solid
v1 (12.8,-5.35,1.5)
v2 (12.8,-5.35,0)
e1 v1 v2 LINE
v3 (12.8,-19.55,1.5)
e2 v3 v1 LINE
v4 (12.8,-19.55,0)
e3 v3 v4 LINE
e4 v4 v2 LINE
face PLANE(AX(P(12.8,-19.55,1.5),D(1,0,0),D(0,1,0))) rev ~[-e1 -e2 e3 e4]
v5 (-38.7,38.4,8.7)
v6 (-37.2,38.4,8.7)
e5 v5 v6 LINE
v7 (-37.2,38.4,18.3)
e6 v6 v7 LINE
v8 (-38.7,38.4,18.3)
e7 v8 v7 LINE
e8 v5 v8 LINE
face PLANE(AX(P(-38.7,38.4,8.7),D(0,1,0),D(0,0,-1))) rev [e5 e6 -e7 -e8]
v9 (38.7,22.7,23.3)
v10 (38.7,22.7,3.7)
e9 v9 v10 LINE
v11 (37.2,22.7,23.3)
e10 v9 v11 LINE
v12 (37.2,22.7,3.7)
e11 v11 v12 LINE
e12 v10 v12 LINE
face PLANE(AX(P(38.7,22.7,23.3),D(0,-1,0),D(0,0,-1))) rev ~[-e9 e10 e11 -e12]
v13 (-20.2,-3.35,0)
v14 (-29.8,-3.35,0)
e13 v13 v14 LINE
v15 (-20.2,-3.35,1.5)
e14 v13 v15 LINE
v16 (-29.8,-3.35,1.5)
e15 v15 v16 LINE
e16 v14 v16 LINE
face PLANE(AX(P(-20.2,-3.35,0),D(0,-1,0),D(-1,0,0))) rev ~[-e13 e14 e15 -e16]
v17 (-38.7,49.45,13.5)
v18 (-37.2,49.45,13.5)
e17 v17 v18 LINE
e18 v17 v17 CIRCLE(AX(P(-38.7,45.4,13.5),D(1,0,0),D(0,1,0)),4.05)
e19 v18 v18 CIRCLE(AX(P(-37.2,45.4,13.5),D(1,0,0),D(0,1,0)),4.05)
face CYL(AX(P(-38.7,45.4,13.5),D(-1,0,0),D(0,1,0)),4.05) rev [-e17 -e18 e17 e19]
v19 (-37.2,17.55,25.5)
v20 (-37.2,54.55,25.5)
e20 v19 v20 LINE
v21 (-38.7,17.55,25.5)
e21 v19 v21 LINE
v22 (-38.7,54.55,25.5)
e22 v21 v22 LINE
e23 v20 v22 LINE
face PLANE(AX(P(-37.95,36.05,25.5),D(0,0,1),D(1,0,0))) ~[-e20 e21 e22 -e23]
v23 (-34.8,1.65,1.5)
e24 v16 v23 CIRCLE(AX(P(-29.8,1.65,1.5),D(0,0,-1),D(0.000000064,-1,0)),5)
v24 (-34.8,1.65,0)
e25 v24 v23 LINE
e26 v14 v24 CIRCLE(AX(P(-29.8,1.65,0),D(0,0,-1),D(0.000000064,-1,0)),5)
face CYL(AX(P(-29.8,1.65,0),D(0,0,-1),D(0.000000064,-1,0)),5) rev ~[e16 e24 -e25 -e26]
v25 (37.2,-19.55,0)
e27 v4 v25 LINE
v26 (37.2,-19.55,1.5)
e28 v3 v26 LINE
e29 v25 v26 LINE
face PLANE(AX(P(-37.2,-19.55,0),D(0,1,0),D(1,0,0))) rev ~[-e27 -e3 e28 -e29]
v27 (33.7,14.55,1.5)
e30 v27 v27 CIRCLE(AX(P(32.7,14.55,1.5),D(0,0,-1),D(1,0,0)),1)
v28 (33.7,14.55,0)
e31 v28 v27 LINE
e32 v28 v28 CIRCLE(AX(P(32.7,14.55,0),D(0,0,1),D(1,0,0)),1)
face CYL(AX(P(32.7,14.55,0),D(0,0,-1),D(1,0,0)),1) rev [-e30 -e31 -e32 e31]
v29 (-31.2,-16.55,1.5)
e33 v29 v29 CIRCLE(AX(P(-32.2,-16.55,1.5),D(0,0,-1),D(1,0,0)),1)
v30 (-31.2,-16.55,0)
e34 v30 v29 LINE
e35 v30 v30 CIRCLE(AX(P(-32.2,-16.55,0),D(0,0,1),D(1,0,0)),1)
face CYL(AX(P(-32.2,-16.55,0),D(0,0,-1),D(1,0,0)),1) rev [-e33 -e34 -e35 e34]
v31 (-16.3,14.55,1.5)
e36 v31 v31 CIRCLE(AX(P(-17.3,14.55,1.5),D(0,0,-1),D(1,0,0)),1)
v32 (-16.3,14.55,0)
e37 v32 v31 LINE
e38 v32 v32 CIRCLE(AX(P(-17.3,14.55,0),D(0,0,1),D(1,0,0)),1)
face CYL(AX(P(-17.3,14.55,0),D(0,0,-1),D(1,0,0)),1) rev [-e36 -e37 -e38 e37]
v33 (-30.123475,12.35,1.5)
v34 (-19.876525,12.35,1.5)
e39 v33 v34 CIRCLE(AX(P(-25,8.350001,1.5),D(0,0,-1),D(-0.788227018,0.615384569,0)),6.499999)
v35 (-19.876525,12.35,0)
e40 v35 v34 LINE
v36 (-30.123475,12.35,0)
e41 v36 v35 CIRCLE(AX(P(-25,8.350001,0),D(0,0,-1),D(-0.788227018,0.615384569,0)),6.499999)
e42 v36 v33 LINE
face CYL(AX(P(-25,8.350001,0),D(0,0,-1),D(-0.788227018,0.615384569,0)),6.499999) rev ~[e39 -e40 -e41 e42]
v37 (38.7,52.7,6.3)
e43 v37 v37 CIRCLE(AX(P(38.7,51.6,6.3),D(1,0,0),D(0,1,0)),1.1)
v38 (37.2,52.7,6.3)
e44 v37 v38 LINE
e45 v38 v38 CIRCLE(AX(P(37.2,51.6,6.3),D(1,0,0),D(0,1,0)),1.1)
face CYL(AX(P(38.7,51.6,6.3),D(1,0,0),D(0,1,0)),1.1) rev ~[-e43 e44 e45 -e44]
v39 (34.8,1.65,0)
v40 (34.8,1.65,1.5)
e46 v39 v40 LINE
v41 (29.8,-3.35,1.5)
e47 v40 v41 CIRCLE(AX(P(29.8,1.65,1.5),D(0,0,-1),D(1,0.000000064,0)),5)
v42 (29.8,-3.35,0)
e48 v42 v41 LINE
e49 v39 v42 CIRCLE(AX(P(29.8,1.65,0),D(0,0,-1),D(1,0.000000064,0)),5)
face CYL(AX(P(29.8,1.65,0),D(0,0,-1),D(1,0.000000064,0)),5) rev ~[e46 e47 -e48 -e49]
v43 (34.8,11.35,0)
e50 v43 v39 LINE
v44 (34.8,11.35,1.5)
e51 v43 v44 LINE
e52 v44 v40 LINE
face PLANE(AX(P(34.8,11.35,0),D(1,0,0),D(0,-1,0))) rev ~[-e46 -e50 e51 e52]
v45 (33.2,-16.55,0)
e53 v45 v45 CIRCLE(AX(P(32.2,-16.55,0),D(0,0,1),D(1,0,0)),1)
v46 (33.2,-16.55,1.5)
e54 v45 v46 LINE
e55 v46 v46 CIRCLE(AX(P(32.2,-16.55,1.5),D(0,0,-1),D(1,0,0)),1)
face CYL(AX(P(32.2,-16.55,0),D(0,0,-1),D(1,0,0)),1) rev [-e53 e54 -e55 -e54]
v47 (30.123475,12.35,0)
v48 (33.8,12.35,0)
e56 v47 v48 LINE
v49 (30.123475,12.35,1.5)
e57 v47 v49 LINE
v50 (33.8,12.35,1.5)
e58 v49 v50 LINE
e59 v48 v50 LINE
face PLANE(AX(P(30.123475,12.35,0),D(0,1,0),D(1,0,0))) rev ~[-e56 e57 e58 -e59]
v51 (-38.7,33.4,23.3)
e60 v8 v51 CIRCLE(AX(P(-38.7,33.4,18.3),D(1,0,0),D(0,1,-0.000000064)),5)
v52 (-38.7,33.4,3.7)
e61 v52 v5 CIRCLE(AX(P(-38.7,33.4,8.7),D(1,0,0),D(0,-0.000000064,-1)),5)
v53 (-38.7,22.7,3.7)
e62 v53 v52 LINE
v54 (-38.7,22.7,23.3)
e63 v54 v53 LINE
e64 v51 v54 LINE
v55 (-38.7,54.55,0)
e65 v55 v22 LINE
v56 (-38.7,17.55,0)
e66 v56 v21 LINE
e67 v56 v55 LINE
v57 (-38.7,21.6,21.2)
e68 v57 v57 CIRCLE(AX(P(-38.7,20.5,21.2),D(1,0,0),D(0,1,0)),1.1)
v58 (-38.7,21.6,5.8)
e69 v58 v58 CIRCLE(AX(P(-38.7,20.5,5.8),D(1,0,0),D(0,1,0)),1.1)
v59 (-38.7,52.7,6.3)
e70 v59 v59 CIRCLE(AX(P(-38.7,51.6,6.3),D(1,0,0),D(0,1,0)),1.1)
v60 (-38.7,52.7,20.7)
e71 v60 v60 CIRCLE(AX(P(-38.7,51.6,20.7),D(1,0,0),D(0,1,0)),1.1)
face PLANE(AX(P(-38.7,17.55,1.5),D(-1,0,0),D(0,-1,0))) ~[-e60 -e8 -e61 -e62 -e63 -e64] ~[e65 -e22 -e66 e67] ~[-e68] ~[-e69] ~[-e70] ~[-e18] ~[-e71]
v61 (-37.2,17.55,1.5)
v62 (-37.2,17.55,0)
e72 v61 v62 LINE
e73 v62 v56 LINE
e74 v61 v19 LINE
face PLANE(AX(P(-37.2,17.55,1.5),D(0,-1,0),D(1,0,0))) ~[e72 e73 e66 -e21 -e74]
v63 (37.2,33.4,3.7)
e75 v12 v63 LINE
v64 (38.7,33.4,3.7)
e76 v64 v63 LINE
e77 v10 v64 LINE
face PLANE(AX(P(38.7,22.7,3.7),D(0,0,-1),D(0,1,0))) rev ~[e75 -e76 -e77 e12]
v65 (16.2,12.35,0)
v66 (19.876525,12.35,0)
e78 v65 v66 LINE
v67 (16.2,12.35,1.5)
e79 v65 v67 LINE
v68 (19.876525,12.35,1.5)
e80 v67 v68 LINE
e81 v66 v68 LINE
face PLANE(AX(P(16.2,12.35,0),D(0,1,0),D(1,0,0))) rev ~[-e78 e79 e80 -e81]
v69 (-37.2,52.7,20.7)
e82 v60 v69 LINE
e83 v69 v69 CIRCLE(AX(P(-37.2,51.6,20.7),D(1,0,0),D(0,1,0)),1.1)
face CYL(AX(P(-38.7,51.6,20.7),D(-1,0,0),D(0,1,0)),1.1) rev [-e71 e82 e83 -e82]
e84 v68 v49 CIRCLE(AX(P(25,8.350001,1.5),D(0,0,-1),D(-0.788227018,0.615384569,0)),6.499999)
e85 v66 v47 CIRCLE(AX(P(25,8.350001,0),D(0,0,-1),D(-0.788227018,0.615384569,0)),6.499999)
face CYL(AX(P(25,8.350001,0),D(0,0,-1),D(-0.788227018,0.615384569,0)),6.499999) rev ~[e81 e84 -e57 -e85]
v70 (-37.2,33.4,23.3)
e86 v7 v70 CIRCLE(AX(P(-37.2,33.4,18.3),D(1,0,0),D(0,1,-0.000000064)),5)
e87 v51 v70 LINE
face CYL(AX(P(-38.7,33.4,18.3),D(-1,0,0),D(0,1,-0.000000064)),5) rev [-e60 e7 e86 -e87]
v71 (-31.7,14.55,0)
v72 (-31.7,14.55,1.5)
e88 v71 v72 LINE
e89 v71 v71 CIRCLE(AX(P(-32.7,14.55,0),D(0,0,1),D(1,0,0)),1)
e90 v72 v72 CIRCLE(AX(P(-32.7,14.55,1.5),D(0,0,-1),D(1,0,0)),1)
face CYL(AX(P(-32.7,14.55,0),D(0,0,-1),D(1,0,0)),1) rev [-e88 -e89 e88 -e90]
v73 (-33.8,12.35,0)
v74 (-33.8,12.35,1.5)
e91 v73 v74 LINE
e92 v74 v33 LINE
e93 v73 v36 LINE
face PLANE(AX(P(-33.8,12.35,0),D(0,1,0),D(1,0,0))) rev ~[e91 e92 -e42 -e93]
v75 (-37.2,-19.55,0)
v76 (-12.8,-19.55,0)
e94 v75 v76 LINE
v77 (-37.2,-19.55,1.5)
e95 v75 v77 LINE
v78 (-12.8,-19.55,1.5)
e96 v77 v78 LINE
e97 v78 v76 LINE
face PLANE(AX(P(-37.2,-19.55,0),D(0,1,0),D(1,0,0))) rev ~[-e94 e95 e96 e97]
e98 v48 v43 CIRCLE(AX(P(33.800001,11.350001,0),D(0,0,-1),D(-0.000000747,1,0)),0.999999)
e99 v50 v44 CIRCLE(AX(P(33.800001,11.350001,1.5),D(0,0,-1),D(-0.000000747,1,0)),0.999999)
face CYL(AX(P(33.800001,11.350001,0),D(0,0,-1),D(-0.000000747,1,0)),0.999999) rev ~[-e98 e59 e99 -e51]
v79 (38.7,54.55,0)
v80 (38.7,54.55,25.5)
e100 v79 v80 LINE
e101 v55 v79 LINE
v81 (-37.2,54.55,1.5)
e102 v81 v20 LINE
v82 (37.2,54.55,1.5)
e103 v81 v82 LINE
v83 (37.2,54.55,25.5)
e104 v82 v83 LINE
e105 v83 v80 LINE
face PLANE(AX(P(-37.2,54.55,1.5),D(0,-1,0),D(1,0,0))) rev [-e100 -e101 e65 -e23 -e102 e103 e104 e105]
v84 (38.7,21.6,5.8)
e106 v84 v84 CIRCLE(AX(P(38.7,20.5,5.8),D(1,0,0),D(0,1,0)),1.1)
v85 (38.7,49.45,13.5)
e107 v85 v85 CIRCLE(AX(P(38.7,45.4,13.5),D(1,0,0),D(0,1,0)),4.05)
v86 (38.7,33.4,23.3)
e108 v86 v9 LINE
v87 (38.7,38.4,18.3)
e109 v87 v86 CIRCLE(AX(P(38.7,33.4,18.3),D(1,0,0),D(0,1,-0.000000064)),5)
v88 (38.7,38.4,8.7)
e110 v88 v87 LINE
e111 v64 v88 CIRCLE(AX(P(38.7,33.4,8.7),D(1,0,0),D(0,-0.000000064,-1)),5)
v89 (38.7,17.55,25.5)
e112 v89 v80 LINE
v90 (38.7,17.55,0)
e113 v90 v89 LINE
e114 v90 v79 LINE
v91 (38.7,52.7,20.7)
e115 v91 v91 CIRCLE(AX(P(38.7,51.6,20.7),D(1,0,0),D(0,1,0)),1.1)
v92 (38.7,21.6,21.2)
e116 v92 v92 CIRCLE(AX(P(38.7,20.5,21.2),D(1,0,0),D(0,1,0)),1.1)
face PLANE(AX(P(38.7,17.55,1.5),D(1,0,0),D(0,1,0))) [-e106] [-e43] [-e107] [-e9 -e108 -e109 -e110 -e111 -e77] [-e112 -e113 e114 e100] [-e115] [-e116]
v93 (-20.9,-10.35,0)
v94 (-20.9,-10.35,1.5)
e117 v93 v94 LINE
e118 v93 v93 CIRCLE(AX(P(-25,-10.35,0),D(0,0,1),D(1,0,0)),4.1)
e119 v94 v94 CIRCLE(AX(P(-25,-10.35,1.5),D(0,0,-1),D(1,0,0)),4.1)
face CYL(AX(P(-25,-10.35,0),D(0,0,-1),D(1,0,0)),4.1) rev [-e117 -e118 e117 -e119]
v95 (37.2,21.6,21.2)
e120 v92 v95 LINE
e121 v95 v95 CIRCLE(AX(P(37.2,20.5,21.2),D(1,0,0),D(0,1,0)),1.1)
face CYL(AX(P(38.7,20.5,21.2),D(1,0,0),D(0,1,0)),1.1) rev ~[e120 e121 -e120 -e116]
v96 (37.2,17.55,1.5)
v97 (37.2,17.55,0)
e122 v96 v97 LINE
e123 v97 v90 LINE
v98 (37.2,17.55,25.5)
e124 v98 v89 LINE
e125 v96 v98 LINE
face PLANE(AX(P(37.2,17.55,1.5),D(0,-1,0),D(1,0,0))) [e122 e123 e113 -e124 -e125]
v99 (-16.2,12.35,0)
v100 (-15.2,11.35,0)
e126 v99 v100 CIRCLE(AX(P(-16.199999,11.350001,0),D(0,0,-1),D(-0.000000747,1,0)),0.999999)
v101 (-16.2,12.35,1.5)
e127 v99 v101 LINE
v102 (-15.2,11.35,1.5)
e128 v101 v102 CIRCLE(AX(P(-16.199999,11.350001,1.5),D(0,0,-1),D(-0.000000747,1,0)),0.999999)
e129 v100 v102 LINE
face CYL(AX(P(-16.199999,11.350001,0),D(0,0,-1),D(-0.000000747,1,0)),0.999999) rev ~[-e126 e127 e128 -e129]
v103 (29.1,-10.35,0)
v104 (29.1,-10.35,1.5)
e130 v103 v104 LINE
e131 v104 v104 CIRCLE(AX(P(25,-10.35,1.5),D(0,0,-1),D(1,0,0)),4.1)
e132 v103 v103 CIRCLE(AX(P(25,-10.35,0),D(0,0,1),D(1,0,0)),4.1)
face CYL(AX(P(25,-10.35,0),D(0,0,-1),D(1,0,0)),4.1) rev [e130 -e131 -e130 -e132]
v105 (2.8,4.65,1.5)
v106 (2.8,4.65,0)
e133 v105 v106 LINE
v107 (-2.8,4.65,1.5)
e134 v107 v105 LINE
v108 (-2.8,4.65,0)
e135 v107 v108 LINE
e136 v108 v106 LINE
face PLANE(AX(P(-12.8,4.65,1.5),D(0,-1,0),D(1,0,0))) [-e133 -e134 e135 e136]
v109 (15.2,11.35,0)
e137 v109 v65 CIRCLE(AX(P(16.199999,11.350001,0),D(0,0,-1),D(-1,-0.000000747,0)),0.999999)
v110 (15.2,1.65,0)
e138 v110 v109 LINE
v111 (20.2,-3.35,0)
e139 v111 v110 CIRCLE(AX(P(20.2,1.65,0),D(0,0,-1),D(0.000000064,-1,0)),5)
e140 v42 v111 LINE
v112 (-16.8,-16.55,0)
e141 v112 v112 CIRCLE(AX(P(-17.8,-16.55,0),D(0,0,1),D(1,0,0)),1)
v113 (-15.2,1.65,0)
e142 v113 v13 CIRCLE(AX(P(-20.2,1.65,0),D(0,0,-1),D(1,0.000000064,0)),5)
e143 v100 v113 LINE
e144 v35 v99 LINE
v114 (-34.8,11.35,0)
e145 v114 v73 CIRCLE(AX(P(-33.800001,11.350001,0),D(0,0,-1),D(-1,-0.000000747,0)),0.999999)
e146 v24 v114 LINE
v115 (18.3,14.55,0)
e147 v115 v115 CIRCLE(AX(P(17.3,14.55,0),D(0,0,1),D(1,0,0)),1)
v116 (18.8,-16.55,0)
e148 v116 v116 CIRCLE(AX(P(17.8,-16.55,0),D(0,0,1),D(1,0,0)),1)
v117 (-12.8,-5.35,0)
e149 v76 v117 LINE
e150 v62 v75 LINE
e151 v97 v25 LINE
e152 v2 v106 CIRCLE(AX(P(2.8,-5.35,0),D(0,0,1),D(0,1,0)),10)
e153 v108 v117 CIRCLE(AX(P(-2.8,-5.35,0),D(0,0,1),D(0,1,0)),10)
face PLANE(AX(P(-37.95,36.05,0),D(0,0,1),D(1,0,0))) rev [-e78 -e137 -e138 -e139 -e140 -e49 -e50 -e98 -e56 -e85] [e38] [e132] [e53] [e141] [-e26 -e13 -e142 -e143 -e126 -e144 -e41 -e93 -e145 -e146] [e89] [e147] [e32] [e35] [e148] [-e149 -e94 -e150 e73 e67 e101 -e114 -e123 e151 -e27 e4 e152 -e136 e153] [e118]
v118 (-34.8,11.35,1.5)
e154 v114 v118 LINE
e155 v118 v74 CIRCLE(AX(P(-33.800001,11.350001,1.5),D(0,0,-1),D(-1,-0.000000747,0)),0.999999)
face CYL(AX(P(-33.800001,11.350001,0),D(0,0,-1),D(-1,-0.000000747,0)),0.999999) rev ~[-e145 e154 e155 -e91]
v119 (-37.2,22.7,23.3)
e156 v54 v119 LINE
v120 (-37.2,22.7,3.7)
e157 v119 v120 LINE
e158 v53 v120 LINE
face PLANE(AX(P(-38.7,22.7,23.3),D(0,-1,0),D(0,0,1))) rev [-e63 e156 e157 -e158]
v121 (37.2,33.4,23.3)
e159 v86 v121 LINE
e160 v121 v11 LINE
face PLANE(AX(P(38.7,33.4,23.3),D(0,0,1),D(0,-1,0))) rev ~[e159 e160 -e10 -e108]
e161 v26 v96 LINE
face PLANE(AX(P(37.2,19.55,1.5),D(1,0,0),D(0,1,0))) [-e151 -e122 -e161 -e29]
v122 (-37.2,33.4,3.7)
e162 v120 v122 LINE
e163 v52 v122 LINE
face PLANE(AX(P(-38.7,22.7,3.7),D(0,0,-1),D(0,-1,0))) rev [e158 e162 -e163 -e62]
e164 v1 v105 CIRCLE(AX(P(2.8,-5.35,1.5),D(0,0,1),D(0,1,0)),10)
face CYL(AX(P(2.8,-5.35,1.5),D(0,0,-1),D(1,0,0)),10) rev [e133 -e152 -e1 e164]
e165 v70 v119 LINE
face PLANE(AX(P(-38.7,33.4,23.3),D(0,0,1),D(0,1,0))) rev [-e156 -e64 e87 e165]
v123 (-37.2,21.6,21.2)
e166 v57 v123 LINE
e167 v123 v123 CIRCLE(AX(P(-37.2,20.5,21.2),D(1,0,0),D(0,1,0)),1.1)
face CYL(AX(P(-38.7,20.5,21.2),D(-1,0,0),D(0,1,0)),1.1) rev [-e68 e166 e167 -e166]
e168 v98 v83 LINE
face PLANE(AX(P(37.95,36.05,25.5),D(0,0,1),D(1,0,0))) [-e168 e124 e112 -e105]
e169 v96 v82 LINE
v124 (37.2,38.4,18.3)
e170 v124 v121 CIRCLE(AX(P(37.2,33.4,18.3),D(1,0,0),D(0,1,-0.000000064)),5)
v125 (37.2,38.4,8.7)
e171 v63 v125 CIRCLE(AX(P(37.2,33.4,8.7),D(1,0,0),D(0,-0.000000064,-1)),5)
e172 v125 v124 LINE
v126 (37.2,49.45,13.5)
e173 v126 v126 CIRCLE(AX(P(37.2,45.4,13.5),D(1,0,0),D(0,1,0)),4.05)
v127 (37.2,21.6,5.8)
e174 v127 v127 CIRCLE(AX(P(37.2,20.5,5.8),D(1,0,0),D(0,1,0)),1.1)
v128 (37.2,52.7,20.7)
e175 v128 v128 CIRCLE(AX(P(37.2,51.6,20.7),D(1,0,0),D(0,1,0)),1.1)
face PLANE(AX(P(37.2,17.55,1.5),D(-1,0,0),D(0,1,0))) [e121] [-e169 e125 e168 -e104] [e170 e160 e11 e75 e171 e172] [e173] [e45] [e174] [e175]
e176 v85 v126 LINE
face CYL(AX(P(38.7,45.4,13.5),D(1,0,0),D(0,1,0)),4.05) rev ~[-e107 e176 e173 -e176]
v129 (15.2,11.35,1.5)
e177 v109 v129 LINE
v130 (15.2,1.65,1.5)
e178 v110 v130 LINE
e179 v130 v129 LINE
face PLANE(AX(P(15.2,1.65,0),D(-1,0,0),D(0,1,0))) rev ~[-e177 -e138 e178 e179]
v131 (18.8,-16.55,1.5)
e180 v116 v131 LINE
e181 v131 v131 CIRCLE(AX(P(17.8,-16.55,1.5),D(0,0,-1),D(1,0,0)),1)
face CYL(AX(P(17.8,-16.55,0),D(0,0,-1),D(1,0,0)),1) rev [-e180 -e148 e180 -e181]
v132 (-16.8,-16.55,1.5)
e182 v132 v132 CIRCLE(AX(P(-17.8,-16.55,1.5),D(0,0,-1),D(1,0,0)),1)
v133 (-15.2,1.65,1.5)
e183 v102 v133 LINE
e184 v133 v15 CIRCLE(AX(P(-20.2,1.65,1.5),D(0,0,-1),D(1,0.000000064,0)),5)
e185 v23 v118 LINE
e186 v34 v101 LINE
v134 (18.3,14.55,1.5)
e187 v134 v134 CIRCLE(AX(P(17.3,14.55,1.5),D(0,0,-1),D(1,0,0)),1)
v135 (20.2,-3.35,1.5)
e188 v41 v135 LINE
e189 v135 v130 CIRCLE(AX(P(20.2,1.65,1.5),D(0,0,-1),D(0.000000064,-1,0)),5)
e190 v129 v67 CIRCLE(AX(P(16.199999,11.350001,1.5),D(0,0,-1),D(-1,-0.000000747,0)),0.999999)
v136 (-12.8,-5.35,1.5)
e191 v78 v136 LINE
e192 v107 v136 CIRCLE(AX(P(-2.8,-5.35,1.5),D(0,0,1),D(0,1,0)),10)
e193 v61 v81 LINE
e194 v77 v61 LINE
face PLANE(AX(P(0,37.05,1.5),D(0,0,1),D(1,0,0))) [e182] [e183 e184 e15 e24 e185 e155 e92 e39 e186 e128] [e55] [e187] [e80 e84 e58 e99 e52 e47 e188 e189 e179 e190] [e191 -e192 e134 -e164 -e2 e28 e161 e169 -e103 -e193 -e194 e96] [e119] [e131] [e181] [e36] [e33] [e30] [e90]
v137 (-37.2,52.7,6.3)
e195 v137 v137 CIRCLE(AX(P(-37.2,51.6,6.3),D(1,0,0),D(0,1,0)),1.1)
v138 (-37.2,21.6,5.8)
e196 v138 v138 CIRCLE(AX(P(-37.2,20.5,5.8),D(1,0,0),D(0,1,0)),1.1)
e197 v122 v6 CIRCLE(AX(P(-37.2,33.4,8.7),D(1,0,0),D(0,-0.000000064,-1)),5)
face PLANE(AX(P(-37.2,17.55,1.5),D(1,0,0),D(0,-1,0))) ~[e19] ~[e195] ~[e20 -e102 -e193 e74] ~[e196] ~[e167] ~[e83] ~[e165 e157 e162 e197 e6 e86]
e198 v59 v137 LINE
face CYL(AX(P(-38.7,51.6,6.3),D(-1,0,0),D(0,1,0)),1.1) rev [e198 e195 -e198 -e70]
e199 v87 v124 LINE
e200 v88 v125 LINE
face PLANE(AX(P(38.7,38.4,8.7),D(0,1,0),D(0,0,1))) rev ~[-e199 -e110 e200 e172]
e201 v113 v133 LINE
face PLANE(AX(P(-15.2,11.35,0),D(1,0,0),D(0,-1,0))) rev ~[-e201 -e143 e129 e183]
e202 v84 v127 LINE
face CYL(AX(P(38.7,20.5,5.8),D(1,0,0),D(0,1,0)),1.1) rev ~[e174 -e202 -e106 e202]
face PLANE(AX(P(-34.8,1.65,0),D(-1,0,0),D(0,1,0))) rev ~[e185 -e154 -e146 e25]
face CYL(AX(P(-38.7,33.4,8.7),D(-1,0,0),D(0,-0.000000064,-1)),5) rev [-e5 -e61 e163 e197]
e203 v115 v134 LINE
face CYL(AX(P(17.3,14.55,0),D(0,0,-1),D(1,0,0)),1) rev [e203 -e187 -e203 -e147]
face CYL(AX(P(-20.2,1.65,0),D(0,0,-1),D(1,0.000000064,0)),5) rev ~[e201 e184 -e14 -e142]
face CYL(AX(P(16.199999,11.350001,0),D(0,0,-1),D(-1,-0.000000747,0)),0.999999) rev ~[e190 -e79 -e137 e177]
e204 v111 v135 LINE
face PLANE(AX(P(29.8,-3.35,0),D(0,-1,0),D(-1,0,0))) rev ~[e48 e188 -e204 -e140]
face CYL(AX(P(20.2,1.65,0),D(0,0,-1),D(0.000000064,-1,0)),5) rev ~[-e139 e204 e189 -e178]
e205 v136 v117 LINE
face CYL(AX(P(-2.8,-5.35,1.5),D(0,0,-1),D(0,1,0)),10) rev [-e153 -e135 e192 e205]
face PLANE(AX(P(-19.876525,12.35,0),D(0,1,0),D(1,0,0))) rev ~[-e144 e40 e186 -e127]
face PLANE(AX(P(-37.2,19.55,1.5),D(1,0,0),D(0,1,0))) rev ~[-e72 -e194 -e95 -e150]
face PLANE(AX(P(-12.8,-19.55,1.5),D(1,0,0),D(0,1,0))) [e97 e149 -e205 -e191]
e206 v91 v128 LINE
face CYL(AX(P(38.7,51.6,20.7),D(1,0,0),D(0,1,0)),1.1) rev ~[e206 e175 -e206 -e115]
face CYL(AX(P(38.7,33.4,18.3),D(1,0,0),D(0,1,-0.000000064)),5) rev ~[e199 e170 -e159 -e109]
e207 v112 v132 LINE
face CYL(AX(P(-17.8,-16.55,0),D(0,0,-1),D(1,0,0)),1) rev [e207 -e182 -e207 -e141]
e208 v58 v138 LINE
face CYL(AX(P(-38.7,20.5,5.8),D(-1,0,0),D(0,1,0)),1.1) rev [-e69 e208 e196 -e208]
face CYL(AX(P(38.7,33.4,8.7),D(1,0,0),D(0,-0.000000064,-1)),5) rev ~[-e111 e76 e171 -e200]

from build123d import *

# Parameters (mm, degrees)
F0_W          = 74.4
F0_H          = 39.1
F0_R          = 1
F0_R_2        = 4.1
F1_DEPTH      = 1.5
F2_W          = 74.4
F2_H          = 35
F3_DEPTH      = 1.5
F4_W          = 25.6
F4_H          = 24.2
F5_DEPTH      = 1.5
F6_R          = 10
F7_W          = 1.5
F7_H          = 37
F8_DEPTH      = 24
F8_DEPTH_BACK = 1.5
F9_R          = 1.1
F9_R_2        = 4.05
F10_DEPTH     = 1.5


with BuildPart() as f1:
    # F0 (on Top) → F1 (new body)
    with BuildSketch(Plane.XY):
        Rectangle(F0_W, F0_H)
        with Locations((-32.2, -16.55)):
            Circle(F0_R, mode=Mode.SUBTRACT)
        with Locations((-25, -10.35)):
            Circle(F0_R_2, mode=Mode.SUBTRACT)
        with Locations((-17.8, -16.55)):
            Circle(F0_R, mode=Mode.SUBTRACT)
        with Locations((17.8, -16.55)):
            Circle(F0_R, mode=Mode.SUBTRACT)
        with Locations((32.2, -16.55)):
            Circle(F0_R, mode=Mode.SUBTRACT)
        with Locations((25, -10.35)):
            Circle(F0_R_2, mode=Mode.SUBTRACT)
        with BuildLine():
            ThreePointArc((-34.8, 11.35), (-34.507107, 12.057107), (-33.8, 12.35))
            Line((-33.8, 12.35), (-30.123475, 12.35))
            ThreePointArc((-30.123475, 12.35), (-25, 14.85), (-19.876525, 12.35))
            Line((-19.876525, 12.35), (-16.2, 12.35))
            ThreePointArc((-16.2, 12.35), (-15.492893, 12.057107), (-15.2, 11.35))
            Line((-15.2, 11.35), (-15.2, 1.65))
            ThreePointArc((-15.2, 1.65), (-16.664466, -1.885534), (-20.2, -3.35))
            Line((-20.2, -3.35), (-29.8, -3.35))
            ThreePointArc((-29.8, -3.35), (-33.335534, -1.885534), (-34.8, 1.65))
            Line((-34.8, 1.65), (-34.8, 11.35))
        make_face(mode=Mode.SUBTRACT)
        with Locations((-32.7, 14.55)):
            Circle(F0_R, mode=Mode.SUBTRACT)
        with Locations((-17.3, 14.55)):
            Circle(F0_R, mode=Mode.SUBTRACT)
        with BuildLine():
            Line((15.2, 1.65), (15.2, 11.35))
            ThreePointArc((15.2, 11.35), (15.492893, 12.057107), (16.2, 12.35))
            Line((16.2, 12.35), (19.876525, 12.35))
            ThreePointArc((19.876525, 12.35), (25, 14.85), (30.123475, 12.35))
            Line((30.123475, 12.35), (33.8, 12.35))
            ThreePointArc((33.8, 12.35), (34.507107, 12.057107), (34.8, 11.35))
            Line((34.8, 11.35), (34.8, 1.65))
            ThreePointArc((34.8, 1.65), (33.335534, -1.885534), (29.8, -3.35))
            Line((29.8, -3.35), (20.2, -3.35))
            ThreePointArc((20.2, -3.35), (16.664466, -1.885534), (15.2, 1.65))
        make_face(mode=Mode.SUBTRACT)
        with Locations((17.3, 14.55)):
            Circle(F0_R, mode=Mode.SUBTRACT)
        with Locations((32.7, 14.55)):
            Circle(F0_R, mode=Mode.SUBTRACT)
    extrude(amount=F1_DEPTH)

    # F2 (on face) → F3 (join)
    with BuildSketch(Plane.XY.offset(1.5)):
        with Locations((0, 37.05)):
            Rectangle(F2_W, F2_H)
    extrude(amount=-F3_DEPTH)

    # F4 (on face) → F5 (cut, through all)
    with BuildSketch(Plane.XY.offset(1.5)):
        with Locations((0, -7.45)):
            Rectangle(F4_W, F4_H)
    extrude(amount=-F5_DEPTH, mode=Mode.SUBTRACT)

    # F6
    f6_edges = [f1.edges().sort_by_distance(p)[0] for p in [
        (-12.8, 4.65, 0.75),
        (12.8, 4.65, 0.75),
    ]]
    fillet(f6_edges, radius=F6_R)

    # F7 (on face) → F8 (join, two sides)
    with BuildSketch(Plane.XY.offset(1.5)) as f8_sk:
        with Locations((37.95, 36.05)):
            Rectangle(F7_W, F7_H)
    extrude(amount=F8_DEPTH)
    extrude(f8_sk.sketch, amount=-F8_DEPTH_BACK)

    # F9 (on face) → F10 (cut, through all)
    with BuildSketch(Plane.YZ.offset(38.7)):
        with Locations((51.6, 20.7)):
            Circle(F9_R)
        with Locations((45.4, 13.5)):
            Circle(F9_R_2)
        with BuildLine():
            ThreePointArc((38.4, 18.3), (36.935534, 21.835534), (33.4, 23.3))
            Line((33.4, 23.3), (22.7, 23.3))
            Line((22.7, 23.3), (22.7, 3.7))
            Line((22.7, 3.7), (33.4, 3.7))
            ThreePointArc((33.4, 3.7), (36.935534, 5.164466), (38.4, 8.7))
            Line((38.4, 8.7), (38.4, 18.3))
        make_face()
        with Locations((51.6, 6.3)):
            Circle(F9_R)
        with Locations((20.5, 21.2)):
            Circle(F9_R)
        with Locations((20.5, 5.8)):
            Circle(F9_R)
    extrude(amount=-F10_DEPTH, mode=Mode.SUBTRACT)

    # F11: F1 across plane


with BuildPart() as f1_1:
    add(f1.part)
    add(f1.part.mirror(Plane.YZ))


solid = f1_1.part
